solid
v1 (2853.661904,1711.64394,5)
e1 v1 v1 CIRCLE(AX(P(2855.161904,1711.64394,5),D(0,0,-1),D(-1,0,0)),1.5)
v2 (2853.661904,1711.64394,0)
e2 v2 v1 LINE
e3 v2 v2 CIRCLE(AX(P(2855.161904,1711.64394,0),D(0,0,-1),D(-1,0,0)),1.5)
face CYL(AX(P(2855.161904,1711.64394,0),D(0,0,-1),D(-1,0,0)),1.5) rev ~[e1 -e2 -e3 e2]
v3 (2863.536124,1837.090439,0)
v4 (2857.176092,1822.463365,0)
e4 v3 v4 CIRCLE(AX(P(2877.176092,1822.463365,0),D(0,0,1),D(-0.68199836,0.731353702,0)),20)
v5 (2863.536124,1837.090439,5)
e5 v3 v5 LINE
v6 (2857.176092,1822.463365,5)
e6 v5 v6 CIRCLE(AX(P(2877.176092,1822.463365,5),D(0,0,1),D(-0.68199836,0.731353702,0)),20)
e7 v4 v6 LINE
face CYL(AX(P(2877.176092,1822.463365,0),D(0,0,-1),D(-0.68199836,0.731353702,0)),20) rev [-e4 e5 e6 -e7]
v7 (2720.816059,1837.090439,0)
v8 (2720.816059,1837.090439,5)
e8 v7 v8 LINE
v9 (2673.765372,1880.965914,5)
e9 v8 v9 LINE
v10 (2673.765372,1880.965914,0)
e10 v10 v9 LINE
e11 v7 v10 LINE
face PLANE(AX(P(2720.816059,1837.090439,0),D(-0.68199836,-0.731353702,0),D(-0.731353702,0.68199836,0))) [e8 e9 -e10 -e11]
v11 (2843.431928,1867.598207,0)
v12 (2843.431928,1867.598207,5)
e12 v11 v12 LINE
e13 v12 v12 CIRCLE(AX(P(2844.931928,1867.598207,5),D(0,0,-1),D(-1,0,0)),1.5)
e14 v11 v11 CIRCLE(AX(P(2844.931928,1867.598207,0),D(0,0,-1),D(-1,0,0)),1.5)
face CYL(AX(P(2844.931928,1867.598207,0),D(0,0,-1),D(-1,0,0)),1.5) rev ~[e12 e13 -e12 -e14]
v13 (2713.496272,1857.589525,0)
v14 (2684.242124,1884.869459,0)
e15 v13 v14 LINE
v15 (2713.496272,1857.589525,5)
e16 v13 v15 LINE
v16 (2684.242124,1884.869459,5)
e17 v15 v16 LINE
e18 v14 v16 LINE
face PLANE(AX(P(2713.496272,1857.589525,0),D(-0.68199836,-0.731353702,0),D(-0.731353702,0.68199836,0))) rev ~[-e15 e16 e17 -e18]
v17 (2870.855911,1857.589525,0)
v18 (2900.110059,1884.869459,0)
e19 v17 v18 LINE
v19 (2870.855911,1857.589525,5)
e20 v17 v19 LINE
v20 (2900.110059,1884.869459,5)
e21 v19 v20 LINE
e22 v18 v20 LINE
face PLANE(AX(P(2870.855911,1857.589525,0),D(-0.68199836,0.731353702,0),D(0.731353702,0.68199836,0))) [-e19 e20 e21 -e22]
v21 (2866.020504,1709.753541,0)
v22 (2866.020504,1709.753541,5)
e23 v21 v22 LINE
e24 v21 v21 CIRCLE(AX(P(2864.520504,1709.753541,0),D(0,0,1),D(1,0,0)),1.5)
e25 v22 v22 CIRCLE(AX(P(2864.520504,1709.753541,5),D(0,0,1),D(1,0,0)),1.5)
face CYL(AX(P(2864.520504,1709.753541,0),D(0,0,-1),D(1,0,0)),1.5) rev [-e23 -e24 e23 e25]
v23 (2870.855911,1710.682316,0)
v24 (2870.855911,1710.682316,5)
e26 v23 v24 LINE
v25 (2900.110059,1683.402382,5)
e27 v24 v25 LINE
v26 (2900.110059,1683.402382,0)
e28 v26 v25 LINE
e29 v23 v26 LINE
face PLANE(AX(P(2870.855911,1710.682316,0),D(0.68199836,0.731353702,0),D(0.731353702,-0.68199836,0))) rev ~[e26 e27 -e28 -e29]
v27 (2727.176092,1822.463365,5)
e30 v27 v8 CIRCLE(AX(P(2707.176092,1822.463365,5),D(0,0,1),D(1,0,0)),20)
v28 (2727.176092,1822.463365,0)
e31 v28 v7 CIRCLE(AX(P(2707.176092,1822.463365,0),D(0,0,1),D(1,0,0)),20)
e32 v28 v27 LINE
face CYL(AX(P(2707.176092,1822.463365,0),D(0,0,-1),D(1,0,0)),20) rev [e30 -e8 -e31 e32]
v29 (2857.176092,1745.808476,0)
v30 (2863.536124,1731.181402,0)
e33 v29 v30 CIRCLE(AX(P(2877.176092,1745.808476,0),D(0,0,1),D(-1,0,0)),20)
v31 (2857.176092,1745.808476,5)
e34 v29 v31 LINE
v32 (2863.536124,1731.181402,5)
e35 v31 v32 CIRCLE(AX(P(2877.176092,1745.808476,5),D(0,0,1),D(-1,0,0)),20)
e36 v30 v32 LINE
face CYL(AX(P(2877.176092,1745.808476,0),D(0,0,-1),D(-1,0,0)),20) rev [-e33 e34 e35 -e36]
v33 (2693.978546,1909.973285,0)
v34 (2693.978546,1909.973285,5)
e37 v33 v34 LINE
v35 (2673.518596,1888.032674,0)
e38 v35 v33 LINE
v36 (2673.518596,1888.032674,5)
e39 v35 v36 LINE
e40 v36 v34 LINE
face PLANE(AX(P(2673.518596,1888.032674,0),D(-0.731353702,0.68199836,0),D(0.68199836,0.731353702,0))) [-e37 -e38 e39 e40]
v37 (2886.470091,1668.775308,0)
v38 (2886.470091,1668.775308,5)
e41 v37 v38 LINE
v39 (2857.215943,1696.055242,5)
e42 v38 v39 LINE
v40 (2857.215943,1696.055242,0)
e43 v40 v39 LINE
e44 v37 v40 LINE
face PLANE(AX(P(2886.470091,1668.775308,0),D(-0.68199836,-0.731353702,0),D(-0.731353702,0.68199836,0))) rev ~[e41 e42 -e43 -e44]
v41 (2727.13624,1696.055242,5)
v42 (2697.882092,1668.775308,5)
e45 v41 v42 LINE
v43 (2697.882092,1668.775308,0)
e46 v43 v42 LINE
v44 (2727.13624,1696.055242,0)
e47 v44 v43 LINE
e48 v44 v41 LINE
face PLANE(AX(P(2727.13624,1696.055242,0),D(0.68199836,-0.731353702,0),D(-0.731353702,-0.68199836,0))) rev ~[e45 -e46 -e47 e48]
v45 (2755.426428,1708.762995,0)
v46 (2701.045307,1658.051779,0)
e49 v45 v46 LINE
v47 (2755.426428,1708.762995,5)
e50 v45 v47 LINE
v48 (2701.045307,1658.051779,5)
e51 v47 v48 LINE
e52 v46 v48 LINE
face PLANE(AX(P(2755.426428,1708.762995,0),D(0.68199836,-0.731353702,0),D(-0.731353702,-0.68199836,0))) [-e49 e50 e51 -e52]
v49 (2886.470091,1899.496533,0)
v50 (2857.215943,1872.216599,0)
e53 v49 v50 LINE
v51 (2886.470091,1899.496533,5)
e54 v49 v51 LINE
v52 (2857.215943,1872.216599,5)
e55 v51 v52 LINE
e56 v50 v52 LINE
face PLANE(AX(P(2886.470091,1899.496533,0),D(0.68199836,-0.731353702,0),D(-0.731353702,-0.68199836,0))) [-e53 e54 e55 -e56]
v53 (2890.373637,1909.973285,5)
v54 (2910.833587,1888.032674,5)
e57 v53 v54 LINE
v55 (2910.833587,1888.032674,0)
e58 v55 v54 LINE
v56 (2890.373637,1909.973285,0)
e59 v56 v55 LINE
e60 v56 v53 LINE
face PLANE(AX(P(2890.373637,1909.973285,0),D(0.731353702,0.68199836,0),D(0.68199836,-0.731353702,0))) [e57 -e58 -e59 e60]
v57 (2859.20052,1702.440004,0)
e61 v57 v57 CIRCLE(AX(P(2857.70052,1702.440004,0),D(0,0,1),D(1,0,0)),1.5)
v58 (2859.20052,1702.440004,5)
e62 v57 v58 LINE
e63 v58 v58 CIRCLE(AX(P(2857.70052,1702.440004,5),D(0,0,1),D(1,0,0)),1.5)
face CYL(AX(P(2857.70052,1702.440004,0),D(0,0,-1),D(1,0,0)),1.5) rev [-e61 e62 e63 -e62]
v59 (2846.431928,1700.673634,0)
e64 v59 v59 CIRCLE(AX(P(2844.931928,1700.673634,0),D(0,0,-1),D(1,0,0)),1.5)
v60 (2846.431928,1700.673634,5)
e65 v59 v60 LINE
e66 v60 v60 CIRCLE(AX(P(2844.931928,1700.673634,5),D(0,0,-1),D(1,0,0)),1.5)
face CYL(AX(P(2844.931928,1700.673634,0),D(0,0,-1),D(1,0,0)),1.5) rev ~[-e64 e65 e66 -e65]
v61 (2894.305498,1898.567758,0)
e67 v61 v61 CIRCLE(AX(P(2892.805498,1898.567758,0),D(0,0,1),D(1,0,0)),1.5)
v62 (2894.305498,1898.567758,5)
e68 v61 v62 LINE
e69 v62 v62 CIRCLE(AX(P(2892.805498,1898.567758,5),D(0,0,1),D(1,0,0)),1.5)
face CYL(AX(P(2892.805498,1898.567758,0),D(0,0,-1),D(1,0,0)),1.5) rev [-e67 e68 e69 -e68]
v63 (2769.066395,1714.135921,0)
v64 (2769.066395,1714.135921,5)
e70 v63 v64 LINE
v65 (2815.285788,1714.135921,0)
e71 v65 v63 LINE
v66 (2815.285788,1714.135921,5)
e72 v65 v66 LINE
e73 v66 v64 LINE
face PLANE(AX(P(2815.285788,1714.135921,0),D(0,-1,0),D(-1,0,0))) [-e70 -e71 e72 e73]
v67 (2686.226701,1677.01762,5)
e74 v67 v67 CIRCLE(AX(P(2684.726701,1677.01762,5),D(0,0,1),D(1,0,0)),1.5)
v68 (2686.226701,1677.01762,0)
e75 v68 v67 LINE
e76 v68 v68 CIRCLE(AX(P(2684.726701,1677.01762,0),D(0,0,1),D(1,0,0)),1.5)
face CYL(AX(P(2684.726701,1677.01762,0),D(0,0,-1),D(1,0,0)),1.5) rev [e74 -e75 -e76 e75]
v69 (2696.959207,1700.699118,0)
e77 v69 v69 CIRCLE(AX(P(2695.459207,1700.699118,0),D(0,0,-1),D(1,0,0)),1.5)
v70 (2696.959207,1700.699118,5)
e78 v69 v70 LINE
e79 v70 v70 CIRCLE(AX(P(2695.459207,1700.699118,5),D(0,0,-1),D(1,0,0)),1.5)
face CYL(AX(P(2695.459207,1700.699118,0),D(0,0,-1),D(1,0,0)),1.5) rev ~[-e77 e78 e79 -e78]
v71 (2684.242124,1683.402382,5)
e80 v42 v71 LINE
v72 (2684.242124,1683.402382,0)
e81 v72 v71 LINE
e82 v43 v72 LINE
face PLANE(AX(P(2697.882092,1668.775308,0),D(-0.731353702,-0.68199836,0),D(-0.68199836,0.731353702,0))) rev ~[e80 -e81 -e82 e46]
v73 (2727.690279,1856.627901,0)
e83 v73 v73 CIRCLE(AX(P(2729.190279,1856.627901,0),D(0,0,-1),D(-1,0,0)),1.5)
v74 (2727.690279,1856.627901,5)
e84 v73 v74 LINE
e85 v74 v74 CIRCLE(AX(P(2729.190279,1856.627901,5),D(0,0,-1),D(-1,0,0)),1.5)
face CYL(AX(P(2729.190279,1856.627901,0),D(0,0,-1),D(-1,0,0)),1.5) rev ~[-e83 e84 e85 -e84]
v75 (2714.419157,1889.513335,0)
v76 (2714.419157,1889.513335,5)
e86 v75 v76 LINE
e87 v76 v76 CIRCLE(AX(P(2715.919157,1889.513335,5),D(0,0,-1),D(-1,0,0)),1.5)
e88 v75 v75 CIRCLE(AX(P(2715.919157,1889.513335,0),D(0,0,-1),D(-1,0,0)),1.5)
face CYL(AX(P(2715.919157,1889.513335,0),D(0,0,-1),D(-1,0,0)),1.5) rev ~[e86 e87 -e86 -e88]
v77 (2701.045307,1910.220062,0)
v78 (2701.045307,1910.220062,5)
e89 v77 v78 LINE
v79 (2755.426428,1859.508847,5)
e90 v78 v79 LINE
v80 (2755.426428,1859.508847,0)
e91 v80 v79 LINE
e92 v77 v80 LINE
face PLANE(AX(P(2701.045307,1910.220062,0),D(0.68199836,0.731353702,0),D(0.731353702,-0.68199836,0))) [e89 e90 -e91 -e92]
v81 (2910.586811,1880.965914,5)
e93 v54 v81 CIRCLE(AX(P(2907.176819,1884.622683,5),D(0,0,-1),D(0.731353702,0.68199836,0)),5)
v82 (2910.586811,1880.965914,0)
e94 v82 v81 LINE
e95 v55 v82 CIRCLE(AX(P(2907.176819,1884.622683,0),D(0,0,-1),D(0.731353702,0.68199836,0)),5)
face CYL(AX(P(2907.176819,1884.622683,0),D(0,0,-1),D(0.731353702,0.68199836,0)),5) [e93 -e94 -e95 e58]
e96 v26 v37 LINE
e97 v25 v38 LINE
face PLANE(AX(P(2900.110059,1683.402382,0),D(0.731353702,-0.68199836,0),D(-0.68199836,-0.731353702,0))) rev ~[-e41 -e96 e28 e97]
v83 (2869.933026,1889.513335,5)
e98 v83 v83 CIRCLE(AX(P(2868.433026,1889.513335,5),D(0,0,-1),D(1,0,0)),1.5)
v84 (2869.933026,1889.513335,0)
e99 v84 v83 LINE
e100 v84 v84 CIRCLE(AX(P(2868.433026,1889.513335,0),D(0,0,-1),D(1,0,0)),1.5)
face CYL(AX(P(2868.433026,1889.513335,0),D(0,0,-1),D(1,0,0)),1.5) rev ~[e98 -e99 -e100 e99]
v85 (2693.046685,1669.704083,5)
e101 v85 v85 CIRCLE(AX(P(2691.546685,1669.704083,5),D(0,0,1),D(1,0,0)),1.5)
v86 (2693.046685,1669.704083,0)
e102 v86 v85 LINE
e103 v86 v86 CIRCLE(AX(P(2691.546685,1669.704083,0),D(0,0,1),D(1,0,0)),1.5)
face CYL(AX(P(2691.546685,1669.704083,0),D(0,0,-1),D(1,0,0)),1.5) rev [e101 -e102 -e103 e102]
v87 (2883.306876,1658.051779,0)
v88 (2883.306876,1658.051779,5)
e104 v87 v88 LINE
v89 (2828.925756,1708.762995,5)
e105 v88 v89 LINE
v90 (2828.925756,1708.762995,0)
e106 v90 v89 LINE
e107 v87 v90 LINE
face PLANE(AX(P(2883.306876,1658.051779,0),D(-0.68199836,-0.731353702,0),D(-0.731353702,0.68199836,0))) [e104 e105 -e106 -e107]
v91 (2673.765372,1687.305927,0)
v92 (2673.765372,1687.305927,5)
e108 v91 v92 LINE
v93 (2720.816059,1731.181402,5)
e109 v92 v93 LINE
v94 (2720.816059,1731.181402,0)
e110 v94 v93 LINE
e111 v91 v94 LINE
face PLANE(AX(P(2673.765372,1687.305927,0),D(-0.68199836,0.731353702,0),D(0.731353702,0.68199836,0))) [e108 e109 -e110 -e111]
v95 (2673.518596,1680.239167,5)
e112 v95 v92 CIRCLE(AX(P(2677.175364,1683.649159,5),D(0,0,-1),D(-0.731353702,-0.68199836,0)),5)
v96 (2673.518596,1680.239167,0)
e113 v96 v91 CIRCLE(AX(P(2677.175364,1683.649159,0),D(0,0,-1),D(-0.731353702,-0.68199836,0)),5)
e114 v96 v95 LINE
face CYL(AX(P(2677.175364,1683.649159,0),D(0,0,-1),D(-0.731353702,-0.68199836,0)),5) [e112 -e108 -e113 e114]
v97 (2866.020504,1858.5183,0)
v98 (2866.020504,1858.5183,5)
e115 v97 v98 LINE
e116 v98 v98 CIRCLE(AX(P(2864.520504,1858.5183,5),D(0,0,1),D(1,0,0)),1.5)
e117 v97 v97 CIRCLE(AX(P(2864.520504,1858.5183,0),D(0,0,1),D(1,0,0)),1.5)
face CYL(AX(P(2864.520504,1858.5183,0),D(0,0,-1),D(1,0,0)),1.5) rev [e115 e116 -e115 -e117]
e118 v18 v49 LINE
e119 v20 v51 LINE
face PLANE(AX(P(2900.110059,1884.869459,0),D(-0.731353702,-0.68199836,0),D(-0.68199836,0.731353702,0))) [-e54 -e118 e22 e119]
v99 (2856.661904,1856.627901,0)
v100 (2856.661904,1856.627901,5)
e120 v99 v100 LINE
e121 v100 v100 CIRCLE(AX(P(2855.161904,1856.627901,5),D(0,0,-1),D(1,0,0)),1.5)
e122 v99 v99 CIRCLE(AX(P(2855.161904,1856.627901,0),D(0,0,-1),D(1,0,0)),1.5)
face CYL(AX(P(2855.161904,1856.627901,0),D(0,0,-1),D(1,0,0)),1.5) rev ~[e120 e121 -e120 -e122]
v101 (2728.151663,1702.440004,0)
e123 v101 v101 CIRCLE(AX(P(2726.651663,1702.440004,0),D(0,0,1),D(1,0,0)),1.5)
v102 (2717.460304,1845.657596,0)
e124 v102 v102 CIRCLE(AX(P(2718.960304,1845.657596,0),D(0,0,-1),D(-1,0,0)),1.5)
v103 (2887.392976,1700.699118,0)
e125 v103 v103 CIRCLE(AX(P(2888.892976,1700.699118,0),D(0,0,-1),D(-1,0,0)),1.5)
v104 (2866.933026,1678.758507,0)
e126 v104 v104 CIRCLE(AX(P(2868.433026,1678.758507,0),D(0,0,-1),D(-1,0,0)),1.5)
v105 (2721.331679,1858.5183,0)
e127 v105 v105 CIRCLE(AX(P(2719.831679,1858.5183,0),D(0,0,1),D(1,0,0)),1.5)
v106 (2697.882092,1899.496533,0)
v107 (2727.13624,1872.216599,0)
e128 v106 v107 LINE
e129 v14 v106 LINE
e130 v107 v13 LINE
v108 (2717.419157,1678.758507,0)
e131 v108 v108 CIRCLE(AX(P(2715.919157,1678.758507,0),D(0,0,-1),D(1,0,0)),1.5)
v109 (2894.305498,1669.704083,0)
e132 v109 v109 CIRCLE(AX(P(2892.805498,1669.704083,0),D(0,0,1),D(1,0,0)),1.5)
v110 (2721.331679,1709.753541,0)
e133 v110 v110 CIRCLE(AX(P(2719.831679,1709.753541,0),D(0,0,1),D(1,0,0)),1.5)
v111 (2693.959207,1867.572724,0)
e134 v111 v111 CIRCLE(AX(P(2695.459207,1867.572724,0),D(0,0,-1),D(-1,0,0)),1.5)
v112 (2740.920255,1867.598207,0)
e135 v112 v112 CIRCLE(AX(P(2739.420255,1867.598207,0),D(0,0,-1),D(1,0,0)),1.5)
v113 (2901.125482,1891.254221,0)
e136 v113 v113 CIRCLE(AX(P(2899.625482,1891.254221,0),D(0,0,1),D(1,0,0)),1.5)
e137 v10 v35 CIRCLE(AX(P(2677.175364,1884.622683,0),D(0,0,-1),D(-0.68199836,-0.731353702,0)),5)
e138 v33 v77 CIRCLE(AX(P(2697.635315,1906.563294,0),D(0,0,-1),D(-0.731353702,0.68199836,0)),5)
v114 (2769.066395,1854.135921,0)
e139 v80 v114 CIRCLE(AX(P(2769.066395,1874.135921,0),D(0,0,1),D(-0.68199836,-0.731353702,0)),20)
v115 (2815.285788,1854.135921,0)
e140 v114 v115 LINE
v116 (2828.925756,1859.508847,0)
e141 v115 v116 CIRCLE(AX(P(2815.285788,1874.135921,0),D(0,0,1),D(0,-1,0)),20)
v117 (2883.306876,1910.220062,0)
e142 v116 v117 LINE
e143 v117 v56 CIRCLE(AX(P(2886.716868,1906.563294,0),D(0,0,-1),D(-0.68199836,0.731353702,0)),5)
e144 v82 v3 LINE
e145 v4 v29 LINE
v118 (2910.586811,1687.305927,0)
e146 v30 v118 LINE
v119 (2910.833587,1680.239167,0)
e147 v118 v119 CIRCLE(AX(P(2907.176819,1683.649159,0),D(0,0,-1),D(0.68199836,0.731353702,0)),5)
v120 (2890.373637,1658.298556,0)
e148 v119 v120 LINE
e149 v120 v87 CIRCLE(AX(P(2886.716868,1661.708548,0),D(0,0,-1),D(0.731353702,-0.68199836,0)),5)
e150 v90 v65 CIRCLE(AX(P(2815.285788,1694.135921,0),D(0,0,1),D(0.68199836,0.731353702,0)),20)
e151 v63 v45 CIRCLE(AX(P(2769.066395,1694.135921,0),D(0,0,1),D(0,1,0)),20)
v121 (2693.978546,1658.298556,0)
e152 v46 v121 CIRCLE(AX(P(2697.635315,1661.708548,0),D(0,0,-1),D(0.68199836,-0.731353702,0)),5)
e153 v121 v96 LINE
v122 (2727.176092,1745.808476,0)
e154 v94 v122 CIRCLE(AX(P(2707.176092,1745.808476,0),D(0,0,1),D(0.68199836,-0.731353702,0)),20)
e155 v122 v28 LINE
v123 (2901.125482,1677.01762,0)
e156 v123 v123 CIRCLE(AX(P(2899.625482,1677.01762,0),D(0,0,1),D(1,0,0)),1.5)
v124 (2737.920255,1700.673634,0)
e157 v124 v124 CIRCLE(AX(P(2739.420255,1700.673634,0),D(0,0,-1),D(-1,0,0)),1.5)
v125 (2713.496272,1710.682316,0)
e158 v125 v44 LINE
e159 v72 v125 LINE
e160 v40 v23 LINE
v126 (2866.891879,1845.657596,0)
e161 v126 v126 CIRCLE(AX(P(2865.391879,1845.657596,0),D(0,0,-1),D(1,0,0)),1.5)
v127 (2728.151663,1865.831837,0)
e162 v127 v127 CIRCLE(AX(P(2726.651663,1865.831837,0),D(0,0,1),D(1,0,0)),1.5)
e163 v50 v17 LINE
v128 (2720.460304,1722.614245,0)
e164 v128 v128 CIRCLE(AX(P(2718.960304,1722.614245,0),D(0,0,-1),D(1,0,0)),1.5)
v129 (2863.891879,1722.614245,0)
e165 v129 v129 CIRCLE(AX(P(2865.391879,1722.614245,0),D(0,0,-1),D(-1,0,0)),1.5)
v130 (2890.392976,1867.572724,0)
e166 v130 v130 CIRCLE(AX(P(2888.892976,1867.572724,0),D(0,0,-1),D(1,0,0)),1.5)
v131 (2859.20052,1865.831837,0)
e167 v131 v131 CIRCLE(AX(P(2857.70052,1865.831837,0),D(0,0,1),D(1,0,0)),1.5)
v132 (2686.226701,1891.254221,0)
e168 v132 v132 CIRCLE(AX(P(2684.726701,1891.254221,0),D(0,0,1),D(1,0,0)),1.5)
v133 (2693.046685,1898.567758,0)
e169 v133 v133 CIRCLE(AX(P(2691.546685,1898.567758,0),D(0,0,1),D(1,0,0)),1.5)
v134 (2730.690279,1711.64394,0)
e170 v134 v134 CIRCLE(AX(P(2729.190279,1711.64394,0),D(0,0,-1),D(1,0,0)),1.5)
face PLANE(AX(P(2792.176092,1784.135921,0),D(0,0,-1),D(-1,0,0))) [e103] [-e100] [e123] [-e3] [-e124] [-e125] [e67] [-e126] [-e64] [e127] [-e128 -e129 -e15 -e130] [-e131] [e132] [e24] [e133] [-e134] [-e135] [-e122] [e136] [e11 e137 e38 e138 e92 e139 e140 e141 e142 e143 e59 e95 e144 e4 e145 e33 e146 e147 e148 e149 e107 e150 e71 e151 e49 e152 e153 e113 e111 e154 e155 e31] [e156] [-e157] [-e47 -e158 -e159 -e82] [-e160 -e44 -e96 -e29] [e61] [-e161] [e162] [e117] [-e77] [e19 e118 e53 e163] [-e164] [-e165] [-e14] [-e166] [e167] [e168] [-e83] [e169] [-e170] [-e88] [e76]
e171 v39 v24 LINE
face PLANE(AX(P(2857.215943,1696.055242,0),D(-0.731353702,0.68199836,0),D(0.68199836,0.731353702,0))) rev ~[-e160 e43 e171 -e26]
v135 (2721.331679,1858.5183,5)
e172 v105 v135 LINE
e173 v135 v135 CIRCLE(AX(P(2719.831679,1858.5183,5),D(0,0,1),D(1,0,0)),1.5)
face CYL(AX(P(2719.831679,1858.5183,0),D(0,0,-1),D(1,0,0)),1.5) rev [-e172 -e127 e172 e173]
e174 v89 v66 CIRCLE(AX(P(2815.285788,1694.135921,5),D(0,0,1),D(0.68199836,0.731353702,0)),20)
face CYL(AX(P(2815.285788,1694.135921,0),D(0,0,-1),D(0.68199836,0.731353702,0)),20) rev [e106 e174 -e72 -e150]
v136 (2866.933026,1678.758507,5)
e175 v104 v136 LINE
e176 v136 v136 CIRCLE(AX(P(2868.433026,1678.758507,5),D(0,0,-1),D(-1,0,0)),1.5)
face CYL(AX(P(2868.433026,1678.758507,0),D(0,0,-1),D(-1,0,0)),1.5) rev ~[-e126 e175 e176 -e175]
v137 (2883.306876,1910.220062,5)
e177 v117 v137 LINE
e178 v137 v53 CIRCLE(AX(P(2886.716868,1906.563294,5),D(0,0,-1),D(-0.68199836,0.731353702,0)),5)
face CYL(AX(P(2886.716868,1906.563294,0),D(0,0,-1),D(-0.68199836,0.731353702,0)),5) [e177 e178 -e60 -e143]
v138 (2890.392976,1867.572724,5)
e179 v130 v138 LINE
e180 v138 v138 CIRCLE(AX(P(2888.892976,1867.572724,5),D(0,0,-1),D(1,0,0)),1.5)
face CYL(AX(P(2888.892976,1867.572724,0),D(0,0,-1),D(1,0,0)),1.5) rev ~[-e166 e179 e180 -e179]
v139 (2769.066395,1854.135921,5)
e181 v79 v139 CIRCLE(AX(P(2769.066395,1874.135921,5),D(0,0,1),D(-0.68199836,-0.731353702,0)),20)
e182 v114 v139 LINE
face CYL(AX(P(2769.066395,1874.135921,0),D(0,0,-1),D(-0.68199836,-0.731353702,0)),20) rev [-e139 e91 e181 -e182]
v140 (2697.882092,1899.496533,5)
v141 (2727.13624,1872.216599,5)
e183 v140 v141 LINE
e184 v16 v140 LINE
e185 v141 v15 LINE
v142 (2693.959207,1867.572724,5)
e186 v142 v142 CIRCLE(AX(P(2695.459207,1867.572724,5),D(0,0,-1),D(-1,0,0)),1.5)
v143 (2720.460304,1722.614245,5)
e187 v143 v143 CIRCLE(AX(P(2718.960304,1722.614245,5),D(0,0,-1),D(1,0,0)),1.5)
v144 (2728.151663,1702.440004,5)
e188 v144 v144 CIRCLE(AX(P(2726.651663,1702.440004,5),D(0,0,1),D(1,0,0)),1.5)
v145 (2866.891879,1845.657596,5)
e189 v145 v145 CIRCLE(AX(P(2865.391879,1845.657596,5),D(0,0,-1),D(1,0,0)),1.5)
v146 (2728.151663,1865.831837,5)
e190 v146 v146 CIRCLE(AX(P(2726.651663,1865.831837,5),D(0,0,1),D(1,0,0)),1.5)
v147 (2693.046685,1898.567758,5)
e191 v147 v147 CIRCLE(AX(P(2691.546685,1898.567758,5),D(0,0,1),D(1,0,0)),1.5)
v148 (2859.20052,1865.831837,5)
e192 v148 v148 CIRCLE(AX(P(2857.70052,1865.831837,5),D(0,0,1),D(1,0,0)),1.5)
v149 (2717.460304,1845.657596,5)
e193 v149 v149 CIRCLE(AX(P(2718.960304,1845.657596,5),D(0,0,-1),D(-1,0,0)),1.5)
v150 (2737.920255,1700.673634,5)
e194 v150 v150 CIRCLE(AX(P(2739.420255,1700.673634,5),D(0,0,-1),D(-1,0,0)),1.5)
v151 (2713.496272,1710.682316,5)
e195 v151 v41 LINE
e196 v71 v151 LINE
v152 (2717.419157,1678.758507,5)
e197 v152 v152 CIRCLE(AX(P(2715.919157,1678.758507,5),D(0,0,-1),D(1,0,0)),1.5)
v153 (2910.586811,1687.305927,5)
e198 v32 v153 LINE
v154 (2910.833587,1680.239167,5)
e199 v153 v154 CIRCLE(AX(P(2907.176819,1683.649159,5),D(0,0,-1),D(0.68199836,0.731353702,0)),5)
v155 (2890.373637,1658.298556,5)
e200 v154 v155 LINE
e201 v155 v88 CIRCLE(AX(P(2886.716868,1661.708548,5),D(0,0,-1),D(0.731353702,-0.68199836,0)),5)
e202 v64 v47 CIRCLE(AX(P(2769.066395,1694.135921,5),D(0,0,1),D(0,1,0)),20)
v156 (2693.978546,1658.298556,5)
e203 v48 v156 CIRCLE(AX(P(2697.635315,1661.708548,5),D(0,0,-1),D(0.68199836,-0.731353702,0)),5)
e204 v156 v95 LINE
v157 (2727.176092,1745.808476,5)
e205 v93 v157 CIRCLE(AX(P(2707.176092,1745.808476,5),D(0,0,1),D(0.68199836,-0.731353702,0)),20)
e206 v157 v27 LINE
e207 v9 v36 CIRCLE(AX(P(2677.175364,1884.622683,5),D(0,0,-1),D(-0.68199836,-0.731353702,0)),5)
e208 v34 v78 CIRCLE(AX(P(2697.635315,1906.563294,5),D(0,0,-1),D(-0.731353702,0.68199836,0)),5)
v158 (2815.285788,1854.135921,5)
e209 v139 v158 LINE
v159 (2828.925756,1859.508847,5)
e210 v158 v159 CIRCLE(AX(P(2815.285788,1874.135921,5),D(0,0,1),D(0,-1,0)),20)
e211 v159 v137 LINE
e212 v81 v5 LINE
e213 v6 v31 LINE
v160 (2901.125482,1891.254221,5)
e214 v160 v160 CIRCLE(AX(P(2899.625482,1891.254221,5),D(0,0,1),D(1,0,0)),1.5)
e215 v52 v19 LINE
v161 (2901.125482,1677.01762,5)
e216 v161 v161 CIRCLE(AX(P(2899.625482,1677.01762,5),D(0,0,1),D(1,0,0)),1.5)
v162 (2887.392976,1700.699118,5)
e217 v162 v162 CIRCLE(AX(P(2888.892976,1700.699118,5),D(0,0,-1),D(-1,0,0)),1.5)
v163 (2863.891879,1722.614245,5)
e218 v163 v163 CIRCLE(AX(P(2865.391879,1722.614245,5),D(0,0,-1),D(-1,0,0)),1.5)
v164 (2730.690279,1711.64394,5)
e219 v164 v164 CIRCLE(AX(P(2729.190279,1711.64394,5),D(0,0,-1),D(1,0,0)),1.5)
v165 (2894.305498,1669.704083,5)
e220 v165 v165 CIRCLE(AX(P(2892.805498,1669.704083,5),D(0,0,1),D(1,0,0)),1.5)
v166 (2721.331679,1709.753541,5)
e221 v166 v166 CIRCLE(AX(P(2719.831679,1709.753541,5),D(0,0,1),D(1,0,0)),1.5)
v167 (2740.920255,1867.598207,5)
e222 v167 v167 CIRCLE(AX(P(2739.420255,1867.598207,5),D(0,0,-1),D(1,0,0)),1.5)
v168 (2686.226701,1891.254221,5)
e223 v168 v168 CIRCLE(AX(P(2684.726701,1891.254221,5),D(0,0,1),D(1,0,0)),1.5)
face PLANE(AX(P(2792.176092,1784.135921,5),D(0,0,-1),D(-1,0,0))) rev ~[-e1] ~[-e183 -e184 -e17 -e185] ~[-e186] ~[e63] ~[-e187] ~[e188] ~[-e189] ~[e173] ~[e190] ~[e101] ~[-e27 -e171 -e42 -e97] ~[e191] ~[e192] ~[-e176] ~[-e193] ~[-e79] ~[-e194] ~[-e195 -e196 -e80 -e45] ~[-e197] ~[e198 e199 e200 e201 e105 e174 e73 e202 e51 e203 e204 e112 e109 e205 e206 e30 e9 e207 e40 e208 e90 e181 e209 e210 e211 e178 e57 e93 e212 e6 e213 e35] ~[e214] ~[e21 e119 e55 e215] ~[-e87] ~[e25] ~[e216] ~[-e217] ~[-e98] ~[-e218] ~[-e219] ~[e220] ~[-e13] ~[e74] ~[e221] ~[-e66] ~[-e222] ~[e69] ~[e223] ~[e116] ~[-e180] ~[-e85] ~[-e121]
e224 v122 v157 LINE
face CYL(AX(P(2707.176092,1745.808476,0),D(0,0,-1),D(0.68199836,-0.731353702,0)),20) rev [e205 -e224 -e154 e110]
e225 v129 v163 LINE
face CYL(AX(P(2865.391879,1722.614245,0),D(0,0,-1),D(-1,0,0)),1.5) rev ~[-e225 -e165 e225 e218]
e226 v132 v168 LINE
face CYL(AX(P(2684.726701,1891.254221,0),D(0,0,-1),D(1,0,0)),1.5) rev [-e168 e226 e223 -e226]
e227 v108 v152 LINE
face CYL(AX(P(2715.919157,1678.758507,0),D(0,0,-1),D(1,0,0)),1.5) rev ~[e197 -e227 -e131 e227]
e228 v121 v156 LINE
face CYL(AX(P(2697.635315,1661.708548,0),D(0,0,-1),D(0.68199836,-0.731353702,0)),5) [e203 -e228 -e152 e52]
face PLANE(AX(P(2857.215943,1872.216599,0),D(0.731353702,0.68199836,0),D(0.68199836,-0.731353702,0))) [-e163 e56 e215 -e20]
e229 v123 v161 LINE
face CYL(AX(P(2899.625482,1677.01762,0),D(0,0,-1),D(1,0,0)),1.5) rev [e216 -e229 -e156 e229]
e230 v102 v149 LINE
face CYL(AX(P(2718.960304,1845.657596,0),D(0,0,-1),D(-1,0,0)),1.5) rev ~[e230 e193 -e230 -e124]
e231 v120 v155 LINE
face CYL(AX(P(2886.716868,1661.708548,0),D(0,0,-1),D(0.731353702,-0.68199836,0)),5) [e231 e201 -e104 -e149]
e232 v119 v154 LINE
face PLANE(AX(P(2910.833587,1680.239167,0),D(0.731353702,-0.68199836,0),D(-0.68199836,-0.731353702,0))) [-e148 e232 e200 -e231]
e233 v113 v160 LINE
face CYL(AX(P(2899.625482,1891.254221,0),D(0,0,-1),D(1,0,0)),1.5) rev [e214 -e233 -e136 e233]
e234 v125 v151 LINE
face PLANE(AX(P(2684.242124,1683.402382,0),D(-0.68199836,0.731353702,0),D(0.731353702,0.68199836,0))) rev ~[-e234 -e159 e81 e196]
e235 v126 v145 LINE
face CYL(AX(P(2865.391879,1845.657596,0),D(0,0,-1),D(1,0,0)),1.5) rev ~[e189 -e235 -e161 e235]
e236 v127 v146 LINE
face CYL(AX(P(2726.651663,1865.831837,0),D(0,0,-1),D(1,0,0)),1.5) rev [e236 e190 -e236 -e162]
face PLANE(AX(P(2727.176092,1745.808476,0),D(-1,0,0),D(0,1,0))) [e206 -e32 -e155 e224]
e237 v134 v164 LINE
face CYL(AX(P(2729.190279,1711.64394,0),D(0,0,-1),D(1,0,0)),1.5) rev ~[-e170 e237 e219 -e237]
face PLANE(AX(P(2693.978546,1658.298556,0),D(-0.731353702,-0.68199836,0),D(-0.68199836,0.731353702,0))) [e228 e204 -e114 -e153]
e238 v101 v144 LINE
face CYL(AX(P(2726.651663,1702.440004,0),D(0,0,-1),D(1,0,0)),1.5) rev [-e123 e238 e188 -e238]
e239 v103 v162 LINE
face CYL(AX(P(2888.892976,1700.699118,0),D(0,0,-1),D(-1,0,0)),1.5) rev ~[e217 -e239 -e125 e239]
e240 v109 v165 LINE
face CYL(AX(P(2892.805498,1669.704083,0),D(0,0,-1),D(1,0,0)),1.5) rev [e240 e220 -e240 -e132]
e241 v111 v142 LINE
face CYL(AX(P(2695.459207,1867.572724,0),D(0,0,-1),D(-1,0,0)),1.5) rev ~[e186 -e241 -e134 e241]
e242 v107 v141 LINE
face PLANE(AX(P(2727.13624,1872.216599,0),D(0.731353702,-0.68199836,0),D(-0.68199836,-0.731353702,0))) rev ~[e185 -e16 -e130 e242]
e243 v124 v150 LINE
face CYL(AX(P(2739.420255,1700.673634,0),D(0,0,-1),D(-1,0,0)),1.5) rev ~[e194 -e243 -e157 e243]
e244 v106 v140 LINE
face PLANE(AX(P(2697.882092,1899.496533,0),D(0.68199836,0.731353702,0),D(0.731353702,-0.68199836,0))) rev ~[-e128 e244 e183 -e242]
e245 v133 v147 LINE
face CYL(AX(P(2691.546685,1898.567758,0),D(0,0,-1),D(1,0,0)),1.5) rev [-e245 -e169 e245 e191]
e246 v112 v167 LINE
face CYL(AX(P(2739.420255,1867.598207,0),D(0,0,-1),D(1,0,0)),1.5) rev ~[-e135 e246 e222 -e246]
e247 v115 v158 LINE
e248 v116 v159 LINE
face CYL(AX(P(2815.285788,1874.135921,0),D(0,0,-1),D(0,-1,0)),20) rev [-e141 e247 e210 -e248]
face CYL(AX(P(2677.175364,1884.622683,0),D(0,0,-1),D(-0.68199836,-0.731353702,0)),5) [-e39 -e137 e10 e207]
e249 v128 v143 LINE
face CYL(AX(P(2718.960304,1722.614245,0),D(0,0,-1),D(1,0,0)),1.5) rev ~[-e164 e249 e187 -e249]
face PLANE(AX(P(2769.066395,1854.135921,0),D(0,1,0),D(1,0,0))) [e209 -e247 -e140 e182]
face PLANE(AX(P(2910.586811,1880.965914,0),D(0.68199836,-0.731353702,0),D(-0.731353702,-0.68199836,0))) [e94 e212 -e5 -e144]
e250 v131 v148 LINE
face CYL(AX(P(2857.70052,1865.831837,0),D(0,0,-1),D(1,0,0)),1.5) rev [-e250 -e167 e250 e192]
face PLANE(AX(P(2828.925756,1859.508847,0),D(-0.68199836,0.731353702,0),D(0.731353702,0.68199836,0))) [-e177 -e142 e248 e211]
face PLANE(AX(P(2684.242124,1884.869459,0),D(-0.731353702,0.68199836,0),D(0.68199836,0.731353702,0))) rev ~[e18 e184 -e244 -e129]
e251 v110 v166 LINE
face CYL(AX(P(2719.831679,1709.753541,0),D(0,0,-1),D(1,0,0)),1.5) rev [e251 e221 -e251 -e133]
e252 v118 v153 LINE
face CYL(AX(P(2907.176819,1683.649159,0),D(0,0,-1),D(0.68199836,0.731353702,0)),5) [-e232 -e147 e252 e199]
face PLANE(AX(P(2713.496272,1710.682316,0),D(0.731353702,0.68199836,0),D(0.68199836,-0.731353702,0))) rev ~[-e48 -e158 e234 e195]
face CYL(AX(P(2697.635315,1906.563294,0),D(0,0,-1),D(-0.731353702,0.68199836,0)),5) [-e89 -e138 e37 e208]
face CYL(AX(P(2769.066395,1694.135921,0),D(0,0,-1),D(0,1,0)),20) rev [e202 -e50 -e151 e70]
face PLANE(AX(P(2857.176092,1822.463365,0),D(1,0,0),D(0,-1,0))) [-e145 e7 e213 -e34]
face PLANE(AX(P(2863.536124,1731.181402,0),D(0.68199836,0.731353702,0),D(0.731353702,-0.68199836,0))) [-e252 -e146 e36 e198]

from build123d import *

# Parameters (mm, degrees)
EXTRUDE_1_DEPTH     = 5
SKETCH_2_3_R        = 1.5
CUT_EXTRUDE_1_DEPTH = 5
SKETCH_3_R          = 1.5
CUT_EXTRUDE_2_DEPTH = 10
SKETCH_4_R          = 1.5
CUT_EXTRUDE_3_DEPTH = 33


with BuildPart() as part:
    # 草图2 → 凸台-拉伸1 (new body)
    with BuildSketch(Plane.XY):
        with BuildLine():
            Line((2769.066394733, 1854.135920645), (2815.285788336, 1854.135920645))
            ThreePointArc((2815.285788336, 1854.135920645), (2822.615812871, 1855.527569285), (2828.925755538, 1859.508846613))
            Line((2828.925755538, 1859.508846613), (2883.306876366, 1910.220062186))
            ThreePointArc((2883.306876366, 1910.220062186), (2886.89136565, 1911.560247813), (2890.373636674, 1909.973285478))
            Line((2890.373636674, 1909.973285478), (2910.833587476, 1888.03267443))
            ThreePointArc((2910.833587476, 1888.03267443), (2912.173773103, 1884.448185146), (2910.586810768, 1880.965914121))
            Line((2910.586810768, 1880.965914121), (2863.536124333, 1837.090439207))
            ThreePointArc((2863.536124333, 1837.090439207), (2858.834890047, 1830.438346554), (2857.176091534, 1822.463365175))
            Line((2857.176091534, 1822.463365175), (2857.176091534, 1745.808476115))
            ThreePointArc((2857.176091534, 1745.808476115), (2858.834890047, 1737.833494737), (2863.536124333, 1731.181402083))
            Line((2863.536124333, 1731.181402083), (2910.586810768, 1687.305927169))
            ThreePointArc((2910.586810768, 1687.305927169), (2912.173773103, 1683.823656144), (2910.833587476, 1680.239166861))
            Line((2910.833587476, 1680.239166861), (2890.373636674, 1658.298555812))
            ThreePointArc((2890.373636674, 1658.298555812), (2886.89136565, 1656.711593477), (2883.306876366, 1658.051779104))
            Line((2883.306876366, 1658.051779104), (2828.925755538, 1708.762994677))
            ThreePointArc((2828.925755538, 1708.762994677), (2822.615812871, 1712.744272005), (2815.285788336, 1714.135920645))
            Line((2815.285788336, 1714.135920645), (2769.066394733, 1714.135920645))
            ThreePointArc((2769.066394733, 1714.135920645), (2761.736370198, 1712.744272005), (2755.426427531, 1708.762994677))
            Line((2755.426427531, 1708.762994677), (2701.045306703, 1658.051779104))
            ThreePointArc((2701.045306703, 1658.051779104), (2697.460817419, 1656.711593477), (2693.978546395, 1658.298555812))
            Line((2693.978546395, 1658.298555812), (2673.518595593, 1680.239166861))
            ThreePointArc((2673.518595593, 1680.239166861), (2672.178409966, 1683.823656144), (2673.765372301, 1687.305927169))
            Line((2673.765372301, 1687.305927169), (2720.816058736, 1731.181402083))
            ThreePointArc((2720.816058736, 1731.181402083), (2725.517293022, 1737.833494737), (2727.176091534, 1745.808476115))
            Line((2727.176091534, 1745.808476115), (2727.176091534, 1822.463365175))
            ThreePointArc((2727.176091534, 1822.463365175), (2725.517293022, 1830.438346554), (2720.816058736, 1837.090439207))
            Line((2720.816058736, 1837.090439207), (2673.765372301, 1880.965914121))
            ThreePointArc((2673.765372301, 1880.965914121), (2672.178409966, 1884.448185146), (2673.518595593, 1888.03267443))
            Line((2673.518595593, 1888.03267443), (2693.978546395, 1909.973285478))
            ThreePointArc((2693.978546395, 1909.973285478), (2697.460817419, 1911.560247813), (2701.045306703, 1910.220062186))
            Line((2701.045306703, 1910.220062186), (2755.426427531, 1859.508846613))
            ThreePointArc((2755.426427531, 1859.508846613), (2761.736370198, 1855.527569285), (2769.066394733, 1854.135920645))
        make_face()
    extrude(amount=EXTRUDE_1_DEPTH)

    # 草图2<3> → 切除-拉伸1 (cut)
    with BuildSketch(Plane.XY):
        Polygon((2900.110058659, 1884.869459337), (2886.470091458, 1899.496533369), (2857.215943393, 1872.216598967), (2870.855910595, 1857.589524935), align=None)
        Polygon((2727.136239676, 1872.216598967), (2697.882091611, 1899.496533369), (2684.242124409, 1884.869459337), (2713.496272474, 1857.589524935), align=None)
        Polygon((2857.215943393, 1696.055242323), (2886.470091458, 1668.775307921), (2900.110058659, 1683.402381953), (2870.855910595, 1710.682316356), align=None)
        Polygon((2684.242124409, 1683.402381953), (2697.882091611, 1668.775307921), (2727.136239676, 1696.055242323), (2713.496272474, 1710.682316356), align=None)
        with Locations((2892.805498065, 1898.567758302)):
            Circle(SKETCH_2_3_R)
        with Locations((2899.625481666, 1891.254221285)):
            Circle(SKETCH_2_3_R)
        with Locations((2857.700520387, 1865.831837019)):
            Circle(SKETCH_2_3_R)
        with Locations((2864.520503988, 1858.518300002)):
            Circle(SKETCH_2_3_R)
        with Locations((2691.546685004, 1898.567758302)):
            Circle(SKETCH_2_3_R)
        with Locations((2684.726701403, 1891.254221285)):
            Circle(SKETCH_2_3_R)
        with Locations((2726.651662682, 1865.831837019)):
            Circle(SKETCH_2_3_R)
        with Locations((2719.831679081, 1858.518300002)):
            Circle(SKETCH_2_3_R)
        with Locations((2892.805498065, 1669.704082989)):
            Circle(SKETCH_2_3_R)
        with Locations((2899.625481666, 1677.017620005)):
            Circle(SKETCH_2_3_R)
        with Locations((2857.700520387, 1702.440004272)):
            Circle(SKETCH_2_3_R)
        with Locations((2864.520503988, 1709.753541288)):
            Circle(SKETCH_2_3_R)
        with Locations((2691.546685004, 1669.704082989)):
            Circle(SKETCH_2_3_R)
        with Locations((2684.726701403, 1677.017620005)):
            Circle(SKETCH_2_3_R)
        with Locations((2726.651662682, 1702.440004272)):
            Circle(SKETCH_2_3_R)
        with Locations((2719.831679081, 1709.753541288)):
            Circle(SKETCH_2_3_R)
    extrude(amount=CUT_EXTRUDE_1_DEPTH, mode=Mode.SUBTRACT)

    # 草图3 → 切除-拉伸2 (cut)
    with BuildSketch(Plane(origin=(0, 0, 0), x_dir=(-1, 0, 0), z_dir=(0, 0, -1))):
        with Locations((-2888.892976427, 1700.699117662)):
            Circle(SKETCH_3_R)
        with Locations((-2868.433025626, 1678.758506614)):
            Circle(SKETCH_3_R)
        with Locations((-2715.919157443, 1678.758506614)):
            Circle(SKETCH_3_R)
        with Locations((-2695.459206642, 1700.699117662)):
            Circle(SKETCH_3_R)
        with Locations((-2695.459206642, 1867.572723628)):
            Circle(SKETCH_3_R)
        with Locations((-2715.919157443, 1889.513334676)):
            Circle(SKETCH_3_R)
        with Locations((-2868.433025626, 1889.513334676)):
            Circle(SKETCH_3_R)
        with Locations((-2888.892976427, 1867.572723628)):
            Circle(SKETCH_3_R)
    extrude(amount=-CUT_EXTRUDE_2_DEPTH, mode=Mode.SUBTRACT)

    # 草图4 → 切除-拉伸3 (cut)
    with BuildSketch(Plane(origin=(0, 0, 0), x_dir=(-1, 0, 0), z_dir=(0, 0, -1))):
        with Locations((-2865.391879185, 1722.614245382)):
            Circle(SKETCH_4_R)
        with Locations((-2855.161903784, 1711.643939858)):
            Circle(SKETCH_4_R)
        with Locations((-2844.931928383, 1700.673634334)):
            Circle(SKETCH_4_R)
        with Locations((-2739.420254686, 1700.673634334)):
            Circle(SKETCH_4_R)
        with Locations((-2729.190279285, 1711.643939858)):
            Circle(SKETCH_4_R)
        with Locations((-2718.960303884, 1722.614245382)):
            Circle(SKETCH_4_R)
        with Locations((-2718.960303884, 1845.657595908)):
            Circle(SKETCH_4_R)
        with Locations((-2729.190279285, 1856.627901432)):
            Circle(SKETCH_4_R)
        with Locations((-2739.420254686, 1867.598206957)):
            Circle(SKETCH_4_R)
        with Locations((-2844.931928383, 1867.598206957)):
            Circle(SKETCH_4_R)
        with Locations((-2855.161903784, 1856.627901432)):
            Circle(SKETCH_4_R)
        with Locations((-2865.391879185, 1845.657595908)):
            Circle(SKETCH_4_R)
    extrude(amount=-CUT_EXTRUDE_3_DEPTH, mode=Mode.SUBTRACT)


solid = part.part
